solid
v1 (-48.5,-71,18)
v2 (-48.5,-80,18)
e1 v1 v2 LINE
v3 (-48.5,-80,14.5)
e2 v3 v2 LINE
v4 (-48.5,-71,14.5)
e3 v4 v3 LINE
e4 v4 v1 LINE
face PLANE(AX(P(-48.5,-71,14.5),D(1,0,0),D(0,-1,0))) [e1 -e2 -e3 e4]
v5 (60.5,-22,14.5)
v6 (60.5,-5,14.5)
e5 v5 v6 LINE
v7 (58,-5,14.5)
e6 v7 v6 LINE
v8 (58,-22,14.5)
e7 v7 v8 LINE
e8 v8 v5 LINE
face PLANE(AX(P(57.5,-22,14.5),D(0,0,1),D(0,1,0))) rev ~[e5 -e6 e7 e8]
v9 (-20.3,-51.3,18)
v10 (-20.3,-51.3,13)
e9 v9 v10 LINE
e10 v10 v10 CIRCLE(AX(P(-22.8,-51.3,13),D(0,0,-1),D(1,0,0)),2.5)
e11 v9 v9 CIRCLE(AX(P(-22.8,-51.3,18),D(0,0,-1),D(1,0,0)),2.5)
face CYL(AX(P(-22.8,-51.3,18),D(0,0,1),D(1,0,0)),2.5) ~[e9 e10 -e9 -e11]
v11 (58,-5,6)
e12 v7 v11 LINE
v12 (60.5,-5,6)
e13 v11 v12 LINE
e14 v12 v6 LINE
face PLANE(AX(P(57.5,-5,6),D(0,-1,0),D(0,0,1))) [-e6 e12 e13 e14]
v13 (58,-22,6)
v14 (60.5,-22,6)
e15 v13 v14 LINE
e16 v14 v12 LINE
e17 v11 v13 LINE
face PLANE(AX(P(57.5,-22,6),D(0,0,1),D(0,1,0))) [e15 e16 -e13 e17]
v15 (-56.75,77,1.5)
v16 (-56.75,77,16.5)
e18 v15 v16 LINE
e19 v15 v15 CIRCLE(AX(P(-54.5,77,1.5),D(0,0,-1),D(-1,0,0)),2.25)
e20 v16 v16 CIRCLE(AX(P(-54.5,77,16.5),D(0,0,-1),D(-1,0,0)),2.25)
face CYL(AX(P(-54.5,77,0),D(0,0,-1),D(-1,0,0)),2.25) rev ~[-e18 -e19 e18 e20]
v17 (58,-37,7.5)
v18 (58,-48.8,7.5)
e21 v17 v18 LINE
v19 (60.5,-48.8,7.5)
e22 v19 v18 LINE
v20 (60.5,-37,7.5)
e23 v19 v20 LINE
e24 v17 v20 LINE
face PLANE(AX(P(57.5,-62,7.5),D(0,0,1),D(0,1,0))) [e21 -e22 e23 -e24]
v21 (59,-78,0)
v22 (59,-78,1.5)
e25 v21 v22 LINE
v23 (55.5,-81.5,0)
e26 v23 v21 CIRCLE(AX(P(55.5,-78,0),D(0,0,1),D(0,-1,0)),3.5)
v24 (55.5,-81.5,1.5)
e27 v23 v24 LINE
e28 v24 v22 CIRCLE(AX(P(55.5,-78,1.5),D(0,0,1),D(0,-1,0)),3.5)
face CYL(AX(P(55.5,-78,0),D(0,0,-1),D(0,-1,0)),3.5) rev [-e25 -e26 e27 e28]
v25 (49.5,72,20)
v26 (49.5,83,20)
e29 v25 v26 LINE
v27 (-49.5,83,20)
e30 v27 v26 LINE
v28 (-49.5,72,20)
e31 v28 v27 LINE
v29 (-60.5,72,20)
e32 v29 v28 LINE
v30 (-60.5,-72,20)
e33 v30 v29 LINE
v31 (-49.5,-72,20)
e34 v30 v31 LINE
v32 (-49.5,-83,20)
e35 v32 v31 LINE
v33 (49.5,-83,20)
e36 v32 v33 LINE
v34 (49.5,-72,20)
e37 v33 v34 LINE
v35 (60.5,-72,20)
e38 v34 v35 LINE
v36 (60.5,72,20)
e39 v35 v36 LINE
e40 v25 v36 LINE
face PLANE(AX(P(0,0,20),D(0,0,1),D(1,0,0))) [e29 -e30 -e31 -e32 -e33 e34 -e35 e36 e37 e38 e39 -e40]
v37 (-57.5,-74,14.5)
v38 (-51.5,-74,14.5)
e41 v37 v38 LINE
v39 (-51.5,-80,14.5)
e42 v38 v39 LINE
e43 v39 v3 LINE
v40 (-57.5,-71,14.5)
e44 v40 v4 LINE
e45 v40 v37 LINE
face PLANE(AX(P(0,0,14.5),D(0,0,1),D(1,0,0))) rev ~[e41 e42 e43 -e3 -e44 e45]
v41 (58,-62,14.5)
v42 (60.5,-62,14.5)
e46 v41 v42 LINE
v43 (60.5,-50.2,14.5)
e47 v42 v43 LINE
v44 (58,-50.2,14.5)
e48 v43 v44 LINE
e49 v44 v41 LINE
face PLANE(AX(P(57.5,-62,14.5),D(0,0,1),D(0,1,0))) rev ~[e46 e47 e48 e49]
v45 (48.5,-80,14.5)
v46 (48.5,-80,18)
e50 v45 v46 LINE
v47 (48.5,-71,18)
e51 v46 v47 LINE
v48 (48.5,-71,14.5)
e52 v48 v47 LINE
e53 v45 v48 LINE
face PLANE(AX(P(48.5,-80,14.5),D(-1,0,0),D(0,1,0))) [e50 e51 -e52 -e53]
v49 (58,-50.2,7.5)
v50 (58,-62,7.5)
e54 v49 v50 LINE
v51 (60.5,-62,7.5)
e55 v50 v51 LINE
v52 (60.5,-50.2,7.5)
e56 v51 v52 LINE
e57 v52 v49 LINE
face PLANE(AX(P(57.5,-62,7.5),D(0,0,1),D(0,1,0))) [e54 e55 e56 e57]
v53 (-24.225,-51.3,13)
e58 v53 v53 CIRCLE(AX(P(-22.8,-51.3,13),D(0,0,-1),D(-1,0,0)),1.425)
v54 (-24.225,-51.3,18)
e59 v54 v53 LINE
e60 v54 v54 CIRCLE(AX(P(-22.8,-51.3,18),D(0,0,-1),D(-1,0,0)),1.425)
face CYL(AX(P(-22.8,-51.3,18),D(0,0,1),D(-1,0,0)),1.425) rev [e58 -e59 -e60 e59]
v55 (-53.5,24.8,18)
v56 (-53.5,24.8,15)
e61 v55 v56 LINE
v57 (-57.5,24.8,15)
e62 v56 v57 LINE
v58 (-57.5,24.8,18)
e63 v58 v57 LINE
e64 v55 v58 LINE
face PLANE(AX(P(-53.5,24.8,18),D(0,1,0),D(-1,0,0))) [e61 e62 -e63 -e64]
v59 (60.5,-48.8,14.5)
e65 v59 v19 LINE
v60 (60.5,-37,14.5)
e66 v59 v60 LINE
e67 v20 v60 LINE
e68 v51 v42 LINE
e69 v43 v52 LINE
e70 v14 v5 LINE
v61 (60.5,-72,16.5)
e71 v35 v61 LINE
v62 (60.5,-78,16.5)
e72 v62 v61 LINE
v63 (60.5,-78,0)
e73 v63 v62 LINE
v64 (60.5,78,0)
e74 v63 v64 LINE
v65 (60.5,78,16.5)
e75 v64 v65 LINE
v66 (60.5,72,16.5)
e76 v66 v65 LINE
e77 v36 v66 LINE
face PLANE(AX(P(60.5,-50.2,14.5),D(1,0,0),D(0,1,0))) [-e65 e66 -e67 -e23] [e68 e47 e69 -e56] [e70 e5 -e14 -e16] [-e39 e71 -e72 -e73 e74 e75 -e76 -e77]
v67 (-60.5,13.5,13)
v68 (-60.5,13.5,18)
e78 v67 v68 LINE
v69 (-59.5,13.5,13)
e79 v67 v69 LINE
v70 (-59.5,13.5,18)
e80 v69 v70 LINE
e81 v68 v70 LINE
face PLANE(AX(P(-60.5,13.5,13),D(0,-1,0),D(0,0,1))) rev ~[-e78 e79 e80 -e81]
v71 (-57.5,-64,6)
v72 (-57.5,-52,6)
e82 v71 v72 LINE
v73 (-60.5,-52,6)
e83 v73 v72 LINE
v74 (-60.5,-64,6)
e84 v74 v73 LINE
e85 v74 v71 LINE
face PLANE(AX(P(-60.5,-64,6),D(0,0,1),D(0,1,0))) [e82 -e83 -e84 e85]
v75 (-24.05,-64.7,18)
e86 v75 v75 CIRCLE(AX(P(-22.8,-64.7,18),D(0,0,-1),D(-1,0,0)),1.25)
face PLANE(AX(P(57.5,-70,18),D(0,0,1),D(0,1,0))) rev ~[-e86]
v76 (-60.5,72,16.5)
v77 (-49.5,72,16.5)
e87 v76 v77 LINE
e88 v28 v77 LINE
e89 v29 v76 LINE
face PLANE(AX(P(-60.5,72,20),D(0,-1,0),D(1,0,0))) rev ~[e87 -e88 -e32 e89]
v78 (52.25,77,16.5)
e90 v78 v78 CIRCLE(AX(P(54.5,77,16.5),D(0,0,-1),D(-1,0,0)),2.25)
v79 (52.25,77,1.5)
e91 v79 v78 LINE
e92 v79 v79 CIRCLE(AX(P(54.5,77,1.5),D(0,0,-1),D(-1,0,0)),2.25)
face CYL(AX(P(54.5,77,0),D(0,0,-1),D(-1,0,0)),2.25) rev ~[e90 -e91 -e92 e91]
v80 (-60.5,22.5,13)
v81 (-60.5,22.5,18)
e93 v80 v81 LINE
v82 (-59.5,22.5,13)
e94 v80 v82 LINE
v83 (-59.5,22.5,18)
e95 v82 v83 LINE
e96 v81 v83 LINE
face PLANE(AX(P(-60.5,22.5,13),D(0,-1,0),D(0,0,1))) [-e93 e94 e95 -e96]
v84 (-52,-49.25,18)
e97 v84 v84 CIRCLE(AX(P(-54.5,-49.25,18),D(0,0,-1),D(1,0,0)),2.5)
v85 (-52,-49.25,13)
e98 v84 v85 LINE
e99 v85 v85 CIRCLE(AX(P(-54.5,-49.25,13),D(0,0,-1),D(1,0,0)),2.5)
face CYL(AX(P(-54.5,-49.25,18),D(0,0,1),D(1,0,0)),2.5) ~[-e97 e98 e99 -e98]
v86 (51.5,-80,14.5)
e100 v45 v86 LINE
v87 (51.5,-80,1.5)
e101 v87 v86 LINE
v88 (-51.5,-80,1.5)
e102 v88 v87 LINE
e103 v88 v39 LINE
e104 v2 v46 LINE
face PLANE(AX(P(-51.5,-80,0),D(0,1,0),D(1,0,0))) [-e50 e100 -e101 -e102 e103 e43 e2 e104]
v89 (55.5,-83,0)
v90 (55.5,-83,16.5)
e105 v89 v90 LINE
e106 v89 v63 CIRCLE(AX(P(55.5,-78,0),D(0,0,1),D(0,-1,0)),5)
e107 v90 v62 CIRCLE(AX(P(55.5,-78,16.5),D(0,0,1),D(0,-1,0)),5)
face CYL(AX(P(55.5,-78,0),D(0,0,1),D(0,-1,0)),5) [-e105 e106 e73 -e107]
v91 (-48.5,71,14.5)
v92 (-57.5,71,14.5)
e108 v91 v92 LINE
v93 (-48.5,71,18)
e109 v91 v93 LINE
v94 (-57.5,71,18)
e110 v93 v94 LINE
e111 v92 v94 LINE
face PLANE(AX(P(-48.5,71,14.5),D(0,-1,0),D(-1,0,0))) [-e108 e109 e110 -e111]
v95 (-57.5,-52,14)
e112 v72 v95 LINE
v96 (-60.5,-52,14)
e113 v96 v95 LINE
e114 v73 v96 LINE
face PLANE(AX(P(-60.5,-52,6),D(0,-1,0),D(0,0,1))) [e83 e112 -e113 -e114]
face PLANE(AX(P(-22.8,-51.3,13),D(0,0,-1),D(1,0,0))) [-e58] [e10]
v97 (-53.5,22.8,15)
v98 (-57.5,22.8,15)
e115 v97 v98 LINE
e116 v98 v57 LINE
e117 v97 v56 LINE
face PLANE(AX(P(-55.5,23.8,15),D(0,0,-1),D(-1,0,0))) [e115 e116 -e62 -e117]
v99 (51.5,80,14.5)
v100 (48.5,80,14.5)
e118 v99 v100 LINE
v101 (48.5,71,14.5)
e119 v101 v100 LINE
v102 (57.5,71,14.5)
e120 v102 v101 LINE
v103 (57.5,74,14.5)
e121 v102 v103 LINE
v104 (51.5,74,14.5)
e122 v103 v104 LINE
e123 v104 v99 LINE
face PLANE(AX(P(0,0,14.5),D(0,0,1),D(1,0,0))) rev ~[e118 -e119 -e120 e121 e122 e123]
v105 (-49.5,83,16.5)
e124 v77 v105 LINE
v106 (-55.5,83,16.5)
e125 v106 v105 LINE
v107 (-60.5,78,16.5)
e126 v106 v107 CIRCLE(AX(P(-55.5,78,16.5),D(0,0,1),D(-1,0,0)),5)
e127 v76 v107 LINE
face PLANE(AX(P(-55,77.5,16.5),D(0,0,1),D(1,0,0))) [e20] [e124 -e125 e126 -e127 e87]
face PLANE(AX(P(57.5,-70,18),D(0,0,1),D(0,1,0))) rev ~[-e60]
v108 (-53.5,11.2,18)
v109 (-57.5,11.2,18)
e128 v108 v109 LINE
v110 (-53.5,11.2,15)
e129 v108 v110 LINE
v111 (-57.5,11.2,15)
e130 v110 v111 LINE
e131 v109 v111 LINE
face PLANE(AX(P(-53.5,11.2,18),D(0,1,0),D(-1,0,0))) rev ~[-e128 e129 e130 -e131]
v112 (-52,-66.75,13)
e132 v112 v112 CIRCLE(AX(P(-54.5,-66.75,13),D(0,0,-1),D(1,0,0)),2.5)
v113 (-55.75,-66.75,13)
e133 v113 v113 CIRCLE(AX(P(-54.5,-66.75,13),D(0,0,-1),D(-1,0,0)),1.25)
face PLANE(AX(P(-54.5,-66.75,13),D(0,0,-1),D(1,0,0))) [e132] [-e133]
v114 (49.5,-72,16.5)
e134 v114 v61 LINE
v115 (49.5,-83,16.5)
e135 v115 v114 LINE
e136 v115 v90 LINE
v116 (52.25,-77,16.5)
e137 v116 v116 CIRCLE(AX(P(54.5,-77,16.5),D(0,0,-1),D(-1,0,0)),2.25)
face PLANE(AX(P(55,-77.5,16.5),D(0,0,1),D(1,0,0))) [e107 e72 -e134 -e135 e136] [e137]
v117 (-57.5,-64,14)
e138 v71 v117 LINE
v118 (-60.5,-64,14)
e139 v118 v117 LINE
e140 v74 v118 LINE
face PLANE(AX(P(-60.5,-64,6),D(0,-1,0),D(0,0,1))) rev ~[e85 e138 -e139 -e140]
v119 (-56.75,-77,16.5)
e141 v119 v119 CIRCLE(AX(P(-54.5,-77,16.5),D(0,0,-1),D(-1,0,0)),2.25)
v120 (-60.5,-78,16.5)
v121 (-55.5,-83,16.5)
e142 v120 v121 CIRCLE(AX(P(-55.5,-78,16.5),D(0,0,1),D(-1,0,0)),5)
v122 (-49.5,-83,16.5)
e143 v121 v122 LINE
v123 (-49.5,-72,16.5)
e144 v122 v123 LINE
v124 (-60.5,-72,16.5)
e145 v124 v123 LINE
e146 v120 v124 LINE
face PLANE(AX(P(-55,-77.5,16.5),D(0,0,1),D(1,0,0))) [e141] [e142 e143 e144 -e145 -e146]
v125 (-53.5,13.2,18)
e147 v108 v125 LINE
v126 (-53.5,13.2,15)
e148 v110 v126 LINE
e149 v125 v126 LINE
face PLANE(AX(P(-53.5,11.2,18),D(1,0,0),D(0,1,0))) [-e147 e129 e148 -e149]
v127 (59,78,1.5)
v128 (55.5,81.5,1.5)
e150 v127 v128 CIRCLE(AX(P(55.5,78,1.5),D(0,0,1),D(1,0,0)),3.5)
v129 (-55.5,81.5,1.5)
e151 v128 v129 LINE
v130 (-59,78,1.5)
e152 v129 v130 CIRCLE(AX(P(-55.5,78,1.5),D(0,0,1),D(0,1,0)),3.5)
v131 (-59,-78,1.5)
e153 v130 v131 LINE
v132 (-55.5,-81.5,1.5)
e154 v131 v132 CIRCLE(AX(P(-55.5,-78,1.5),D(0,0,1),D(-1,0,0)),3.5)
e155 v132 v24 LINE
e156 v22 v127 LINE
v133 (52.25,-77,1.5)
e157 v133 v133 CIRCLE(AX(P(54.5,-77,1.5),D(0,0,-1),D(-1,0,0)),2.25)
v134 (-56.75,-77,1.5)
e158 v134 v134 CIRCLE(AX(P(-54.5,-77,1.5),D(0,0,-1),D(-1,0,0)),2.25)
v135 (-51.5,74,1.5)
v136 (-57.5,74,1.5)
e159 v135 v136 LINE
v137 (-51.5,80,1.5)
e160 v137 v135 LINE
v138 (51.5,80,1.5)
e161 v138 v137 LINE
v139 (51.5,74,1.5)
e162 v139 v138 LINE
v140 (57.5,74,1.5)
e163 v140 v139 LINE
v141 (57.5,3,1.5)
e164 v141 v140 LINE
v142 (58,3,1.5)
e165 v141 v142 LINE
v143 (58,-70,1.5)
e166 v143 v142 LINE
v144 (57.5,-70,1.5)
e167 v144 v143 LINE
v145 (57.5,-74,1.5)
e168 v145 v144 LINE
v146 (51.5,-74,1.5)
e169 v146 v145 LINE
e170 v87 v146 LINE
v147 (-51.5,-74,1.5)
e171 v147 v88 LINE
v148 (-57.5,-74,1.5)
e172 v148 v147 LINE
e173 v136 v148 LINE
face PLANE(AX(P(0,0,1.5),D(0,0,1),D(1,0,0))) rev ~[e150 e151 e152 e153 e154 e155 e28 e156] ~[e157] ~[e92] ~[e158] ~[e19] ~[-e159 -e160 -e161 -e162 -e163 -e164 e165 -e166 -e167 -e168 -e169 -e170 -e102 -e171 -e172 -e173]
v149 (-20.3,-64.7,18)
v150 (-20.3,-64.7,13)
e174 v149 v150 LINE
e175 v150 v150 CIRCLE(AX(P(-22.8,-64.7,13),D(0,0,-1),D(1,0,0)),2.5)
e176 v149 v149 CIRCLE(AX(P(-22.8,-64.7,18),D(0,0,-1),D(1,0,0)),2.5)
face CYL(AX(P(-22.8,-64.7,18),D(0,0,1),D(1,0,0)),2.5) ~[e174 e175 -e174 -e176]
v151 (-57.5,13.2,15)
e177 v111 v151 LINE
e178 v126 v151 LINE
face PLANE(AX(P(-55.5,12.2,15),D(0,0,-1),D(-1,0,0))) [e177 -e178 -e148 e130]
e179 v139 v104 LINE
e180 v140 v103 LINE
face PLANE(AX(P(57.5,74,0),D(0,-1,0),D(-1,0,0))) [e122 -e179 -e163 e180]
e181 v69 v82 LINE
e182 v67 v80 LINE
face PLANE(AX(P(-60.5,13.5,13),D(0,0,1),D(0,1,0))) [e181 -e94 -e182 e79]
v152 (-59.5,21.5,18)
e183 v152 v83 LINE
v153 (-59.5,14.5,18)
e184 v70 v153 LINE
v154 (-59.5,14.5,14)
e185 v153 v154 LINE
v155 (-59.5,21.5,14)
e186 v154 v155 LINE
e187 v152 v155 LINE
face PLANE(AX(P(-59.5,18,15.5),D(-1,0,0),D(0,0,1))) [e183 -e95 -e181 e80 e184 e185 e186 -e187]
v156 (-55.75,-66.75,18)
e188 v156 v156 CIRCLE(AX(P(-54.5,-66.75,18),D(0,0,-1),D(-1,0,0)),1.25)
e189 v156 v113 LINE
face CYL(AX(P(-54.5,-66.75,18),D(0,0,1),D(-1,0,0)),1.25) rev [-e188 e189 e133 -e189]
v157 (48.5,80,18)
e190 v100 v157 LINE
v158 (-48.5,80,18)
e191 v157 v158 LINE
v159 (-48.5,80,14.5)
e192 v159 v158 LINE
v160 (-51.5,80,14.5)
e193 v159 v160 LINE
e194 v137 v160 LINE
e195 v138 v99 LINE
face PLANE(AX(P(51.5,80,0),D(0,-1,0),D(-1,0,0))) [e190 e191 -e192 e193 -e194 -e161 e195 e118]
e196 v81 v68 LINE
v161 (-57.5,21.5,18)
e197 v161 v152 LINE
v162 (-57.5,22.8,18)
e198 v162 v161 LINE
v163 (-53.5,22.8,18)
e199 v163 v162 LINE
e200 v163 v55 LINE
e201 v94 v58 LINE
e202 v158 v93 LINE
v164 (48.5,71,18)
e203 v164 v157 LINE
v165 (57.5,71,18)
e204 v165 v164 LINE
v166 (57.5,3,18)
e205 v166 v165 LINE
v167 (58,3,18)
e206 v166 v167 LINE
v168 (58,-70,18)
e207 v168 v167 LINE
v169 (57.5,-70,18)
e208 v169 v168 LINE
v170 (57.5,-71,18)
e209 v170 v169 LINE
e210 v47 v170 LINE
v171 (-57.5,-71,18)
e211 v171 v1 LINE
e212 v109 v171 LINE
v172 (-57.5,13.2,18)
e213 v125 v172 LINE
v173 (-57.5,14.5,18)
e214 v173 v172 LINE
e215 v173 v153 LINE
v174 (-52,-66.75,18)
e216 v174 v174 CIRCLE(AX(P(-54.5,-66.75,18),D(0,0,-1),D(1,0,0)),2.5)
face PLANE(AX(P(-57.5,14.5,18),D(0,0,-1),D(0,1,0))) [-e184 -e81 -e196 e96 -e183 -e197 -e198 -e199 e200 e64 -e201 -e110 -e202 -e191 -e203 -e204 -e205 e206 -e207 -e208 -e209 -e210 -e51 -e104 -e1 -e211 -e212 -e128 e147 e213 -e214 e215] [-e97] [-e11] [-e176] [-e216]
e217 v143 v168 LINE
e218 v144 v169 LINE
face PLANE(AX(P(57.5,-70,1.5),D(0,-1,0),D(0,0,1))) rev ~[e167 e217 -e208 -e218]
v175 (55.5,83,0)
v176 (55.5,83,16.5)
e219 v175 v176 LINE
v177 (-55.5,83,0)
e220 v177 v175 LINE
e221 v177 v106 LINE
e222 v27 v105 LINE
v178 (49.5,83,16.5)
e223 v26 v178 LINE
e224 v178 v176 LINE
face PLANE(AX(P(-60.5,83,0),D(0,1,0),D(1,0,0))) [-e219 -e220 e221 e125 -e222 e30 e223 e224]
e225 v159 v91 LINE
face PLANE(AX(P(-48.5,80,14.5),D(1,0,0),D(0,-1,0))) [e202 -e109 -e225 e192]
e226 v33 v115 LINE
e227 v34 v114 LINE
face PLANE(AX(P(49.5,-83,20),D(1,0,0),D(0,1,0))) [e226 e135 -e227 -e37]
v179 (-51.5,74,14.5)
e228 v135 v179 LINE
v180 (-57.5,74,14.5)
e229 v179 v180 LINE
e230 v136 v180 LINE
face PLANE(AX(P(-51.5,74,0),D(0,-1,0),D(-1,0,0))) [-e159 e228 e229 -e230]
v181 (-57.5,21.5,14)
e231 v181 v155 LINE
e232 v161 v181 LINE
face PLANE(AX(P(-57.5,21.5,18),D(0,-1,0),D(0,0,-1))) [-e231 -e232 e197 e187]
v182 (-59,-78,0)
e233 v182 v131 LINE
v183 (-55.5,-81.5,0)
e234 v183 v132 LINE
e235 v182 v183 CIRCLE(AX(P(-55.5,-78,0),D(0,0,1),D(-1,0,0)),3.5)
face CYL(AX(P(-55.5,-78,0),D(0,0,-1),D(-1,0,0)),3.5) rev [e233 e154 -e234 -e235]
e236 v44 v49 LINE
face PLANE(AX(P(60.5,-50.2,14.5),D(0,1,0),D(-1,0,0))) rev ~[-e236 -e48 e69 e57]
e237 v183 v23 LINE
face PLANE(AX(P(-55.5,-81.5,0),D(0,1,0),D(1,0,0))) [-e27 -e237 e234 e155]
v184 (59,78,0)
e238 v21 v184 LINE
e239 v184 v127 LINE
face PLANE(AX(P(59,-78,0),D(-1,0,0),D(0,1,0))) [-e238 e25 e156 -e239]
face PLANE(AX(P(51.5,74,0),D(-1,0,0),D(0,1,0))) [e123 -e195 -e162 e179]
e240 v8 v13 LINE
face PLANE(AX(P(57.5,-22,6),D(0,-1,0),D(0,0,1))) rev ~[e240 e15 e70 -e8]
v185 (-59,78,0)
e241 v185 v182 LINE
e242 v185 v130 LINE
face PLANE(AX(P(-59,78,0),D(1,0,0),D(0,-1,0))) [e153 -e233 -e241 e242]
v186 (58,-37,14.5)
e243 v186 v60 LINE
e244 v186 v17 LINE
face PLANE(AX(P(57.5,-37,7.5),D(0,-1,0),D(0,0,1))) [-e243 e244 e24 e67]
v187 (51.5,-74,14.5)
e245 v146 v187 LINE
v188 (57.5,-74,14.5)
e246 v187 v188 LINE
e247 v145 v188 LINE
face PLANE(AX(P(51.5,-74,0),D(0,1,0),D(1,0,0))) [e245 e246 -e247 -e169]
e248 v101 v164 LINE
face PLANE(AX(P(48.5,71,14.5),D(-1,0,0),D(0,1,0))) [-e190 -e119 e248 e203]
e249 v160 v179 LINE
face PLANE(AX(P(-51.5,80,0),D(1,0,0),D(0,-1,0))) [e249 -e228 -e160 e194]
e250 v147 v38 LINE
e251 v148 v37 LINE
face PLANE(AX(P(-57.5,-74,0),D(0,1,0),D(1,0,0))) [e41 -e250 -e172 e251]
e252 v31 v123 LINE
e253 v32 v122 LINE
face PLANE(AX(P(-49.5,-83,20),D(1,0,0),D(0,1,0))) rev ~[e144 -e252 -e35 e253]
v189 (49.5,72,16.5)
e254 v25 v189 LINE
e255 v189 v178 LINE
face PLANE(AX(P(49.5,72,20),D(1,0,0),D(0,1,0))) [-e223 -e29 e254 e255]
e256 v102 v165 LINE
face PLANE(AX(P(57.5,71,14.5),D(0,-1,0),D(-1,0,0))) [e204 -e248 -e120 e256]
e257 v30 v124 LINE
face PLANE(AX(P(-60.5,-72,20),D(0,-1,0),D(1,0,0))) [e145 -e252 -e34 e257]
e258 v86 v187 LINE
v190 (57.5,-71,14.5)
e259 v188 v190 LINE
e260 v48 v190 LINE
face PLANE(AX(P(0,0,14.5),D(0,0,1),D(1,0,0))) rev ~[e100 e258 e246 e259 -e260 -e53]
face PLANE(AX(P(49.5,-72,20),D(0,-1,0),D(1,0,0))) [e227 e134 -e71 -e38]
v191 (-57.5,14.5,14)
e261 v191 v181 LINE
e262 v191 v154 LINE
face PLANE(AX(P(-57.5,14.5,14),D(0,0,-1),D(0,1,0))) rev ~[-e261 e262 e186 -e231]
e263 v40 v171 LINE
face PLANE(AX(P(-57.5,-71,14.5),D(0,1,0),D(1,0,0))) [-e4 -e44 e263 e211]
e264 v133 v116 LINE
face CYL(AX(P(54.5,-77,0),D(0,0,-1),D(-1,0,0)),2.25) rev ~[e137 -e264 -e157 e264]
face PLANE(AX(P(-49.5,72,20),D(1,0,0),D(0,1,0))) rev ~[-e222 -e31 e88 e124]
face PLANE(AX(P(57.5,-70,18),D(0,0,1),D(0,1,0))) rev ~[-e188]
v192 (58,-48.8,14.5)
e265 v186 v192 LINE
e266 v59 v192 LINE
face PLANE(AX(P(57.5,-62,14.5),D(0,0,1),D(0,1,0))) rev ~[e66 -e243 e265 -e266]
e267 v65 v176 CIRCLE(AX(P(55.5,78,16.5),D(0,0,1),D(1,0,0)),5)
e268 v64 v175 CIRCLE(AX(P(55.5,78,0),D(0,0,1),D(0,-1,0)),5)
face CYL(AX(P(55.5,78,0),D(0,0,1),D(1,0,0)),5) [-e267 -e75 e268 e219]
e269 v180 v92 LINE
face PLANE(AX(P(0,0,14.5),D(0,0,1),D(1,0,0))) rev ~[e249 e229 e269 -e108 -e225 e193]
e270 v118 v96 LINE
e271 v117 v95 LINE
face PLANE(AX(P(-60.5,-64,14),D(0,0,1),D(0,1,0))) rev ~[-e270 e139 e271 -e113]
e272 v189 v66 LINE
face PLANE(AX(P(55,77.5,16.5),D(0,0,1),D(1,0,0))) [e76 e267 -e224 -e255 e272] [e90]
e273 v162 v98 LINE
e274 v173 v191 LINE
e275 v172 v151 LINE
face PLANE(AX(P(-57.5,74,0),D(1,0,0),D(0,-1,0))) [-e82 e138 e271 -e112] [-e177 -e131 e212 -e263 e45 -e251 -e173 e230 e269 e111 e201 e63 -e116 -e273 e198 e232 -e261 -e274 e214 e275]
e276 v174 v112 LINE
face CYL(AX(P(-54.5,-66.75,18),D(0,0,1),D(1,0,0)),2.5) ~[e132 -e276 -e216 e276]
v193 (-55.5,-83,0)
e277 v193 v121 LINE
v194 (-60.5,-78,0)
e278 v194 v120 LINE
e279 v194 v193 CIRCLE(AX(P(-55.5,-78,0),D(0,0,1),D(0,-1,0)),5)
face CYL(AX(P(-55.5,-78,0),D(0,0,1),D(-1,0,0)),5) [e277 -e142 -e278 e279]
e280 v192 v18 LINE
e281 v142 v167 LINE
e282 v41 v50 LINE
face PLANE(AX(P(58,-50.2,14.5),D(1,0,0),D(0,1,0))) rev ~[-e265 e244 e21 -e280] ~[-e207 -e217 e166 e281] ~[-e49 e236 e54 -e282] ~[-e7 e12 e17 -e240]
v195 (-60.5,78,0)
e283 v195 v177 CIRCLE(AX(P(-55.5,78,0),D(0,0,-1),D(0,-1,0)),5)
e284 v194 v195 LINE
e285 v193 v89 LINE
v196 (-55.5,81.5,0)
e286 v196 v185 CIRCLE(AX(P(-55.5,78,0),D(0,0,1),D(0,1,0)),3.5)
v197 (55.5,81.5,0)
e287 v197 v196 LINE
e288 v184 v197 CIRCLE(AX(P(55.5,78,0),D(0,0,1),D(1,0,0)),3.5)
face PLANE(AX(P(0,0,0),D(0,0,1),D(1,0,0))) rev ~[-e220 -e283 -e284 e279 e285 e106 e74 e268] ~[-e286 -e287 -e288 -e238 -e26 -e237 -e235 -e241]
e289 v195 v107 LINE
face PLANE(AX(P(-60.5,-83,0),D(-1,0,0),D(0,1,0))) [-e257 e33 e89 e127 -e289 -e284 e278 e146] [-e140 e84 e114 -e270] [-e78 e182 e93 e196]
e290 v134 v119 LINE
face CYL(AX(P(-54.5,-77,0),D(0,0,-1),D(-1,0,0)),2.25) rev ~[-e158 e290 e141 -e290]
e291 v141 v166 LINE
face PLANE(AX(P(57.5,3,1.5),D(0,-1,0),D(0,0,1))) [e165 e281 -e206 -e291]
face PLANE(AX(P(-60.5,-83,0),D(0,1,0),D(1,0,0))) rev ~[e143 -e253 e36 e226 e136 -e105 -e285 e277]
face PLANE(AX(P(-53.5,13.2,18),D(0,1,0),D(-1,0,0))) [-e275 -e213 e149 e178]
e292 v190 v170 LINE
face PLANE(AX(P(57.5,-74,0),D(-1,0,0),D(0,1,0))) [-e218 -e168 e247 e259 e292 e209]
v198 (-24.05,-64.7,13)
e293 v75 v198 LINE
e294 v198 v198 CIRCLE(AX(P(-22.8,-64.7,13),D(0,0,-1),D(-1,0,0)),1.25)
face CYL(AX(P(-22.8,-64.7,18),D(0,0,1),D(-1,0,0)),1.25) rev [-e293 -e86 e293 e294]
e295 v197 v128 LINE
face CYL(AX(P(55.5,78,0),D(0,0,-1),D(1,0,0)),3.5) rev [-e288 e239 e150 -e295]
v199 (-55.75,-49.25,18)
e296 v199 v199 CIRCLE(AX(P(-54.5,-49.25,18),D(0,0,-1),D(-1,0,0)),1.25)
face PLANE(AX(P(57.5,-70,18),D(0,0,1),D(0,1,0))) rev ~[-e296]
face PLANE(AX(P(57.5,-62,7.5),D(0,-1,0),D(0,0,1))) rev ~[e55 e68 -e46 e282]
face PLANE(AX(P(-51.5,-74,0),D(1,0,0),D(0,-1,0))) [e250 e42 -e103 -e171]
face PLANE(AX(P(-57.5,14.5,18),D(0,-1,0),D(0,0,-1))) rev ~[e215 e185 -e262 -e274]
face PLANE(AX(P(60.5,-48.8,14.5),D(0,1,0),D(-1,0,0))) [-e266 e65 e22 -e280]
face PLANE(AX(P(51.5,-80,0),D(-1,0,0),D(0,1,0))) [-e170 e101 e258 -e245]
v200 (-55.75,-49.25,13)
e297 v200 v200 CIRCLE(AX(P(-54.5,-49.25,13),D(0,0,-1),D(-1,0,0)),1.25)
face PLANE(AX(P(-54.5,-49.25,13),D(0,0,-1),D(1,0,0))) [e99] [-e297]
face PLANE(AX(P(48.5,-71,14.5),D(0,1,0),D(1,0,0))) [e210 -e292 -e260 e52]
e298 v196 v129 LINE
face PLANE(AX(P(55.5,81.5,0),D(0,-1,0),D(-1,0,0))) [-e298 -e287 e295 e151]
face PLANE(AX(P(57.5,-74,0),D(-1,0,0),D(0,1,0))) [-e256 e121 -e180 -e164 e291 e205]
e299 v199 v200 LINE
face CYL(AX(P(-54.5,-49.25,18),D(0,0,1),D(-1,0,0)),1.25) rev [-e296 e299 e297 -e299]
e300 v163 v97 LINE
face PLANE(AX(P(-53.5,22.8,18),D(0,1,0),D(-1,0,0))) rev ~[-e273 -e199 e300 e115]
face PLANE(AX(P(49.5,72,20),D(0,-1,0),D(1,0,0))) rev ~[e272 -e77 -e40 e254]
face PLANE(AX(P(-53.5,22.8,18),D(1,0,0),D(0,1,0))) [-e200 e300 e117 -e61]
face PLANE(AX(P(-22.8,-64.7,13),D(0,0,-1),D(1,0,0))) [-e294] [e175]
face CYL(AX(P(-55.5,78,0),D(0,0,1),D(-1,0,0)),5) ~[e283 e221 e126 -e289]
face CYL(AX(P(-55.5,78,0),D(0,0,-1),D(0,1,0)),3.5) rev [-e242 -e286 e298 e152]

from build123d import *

# Parameters (mm, degrees)
SCHIZZO1_W                   = 121
SCHIZZO1_H                   = 166
ESTRUSIONE_ESTRUSIONE1_DEPTH = 20
RACCORDO1_R                  = 5
TAGLIO_ESTRUSIONE1_DEPTH     = 14.5
SCHIZZO3_R                   = 2.25
TAGLIO_ESTRUSIONE2_DEPTH     = 105.638663982
TAGLIO_ESTRUSIONE3_DEPTH     = 1.5
SCHIZZO5_W                   = 11
SCHIZZO5_H                   = 11
TAGLIO_ESTRUSIONE4_DEPTH     = 3.5
TAGLIO_ESTRUSIONE5_DEPTH     = 3.5
SCHIZZO11_W                  = 8.5
SCHIZZO11_H                  = 17
SCHIZZO11_W_2                = 7
SCHIZZO11_H_2                = 25
TAGLIO_ESTRUSIONE9_DEPTH     = 10
SCHIZZO12_W                  = 16.5
SCHIZZO12_H                  = 73
TAGLIO_ESTRUSIONE10_DEPTH    = 0.5
SCHIZZO13_R                  = 2.5
SCHIZZO13_R_2                = 1.25
SCHIZZO13_R_3                = 1.425
ESTRUSIONE_ESTRUSIONE3_DEPTH = 5
SCHIZZO14_W                  = 8
SCHIZZO14_H                  = 12
TAGLIO_ESTRUSIONE11_DEPTH    = 3
SCHIZZO15_W                  = 4
SCHIZZO15_H                  = 7
TAGLIO_ESTRUSIONE12_DEPTH    = 3
SCHIZZO16_W                  = 4
SCHIZZO16_H                  = 2
ESTRUSIONE_ESTRUSIONE4_DEPTH = 3
SCHIZZO17_W                  = 5
SCHIZZO17_H                  = 9
TAGLIO_ESTRUSIONE13_DEPTH    = 1
SCHIZZO18_W                  = 2.5
SCHIZZO18_H                  = 1.4
ESTRUSIONE_ESTRUSIONE5_DEPTH = 10


with BuildPart() as part:
    # Schizzo1 → Estrusione-Estrusione1 (new body)
    with BuildSketch(Plane.XY):
        Rectangle(SCHIZZO1_W, SCHIZZO1_H)
    extrude(amount=ESTRUSIONE_ESTRUSIONE1_DEPTH)

    # Raccordo1
    raccordo1_edges = [part.edges().sort_by_distance(p)[0] for p in [
        (-60.5, 83, 10),
        (60.5, 83, 10),
        (60.5, -83, 10),
        (-60.5, -83, 10),
    ]]
    fillet(raccordo1_edges, radius=RACCORDO1_R)

    # Schizzo2 → Taglio-Estrusione1 (cut)
    with BuildSketch(Plane(origin=(0, 0, 0), x_dir=(-1, 0, 0), z_dir=(0, 0, -1))):
        Polygon((-51.5, 80), (51.5, 80), (51.5, 74), (57.5, 74), (57.5, -74), (51.5, -74), (51.5, -80), (-51.5, -80), (-51.5, -74), (-57.5, -74), (-57.5, 74), (-51.5, 74), align=None)
    extrude(amount=-TAGLIO_ESTRUSIONE1_DEPTH, mode=Mode.SUBTRACT)

    # Schizzo3 → Taglio-Estrusione2 (cut, through all)
    with BuildSketch(Plane(origin=(0, 0, 0), x_dir=(-1, 0, 0), z_dir=(0, 0, -1))):
        with Locations((-54.5, 77)):
            Circle(SCHIZZO3_R)
        with Locations((54.5, 77)):
            Circle(SCHIZZO3_R)
        with Locations((54.5, -77)):
            Circle(SCHIZZO3_R)
        with Locations((-54.5, -77)):
            Circle(SCHIZZO3_R)
    extrude(amount=-TAGLIO_ESTRUSIONE2_DEPTH, mode=Mode.SUBTRACT)

    # Schizzo4 → Taglio-Estrusione3 (cut)
    with BuildSketch(Plane(origin=(0, 0, 0), x_dir=(-1, 0, 0), z_dir=(0, 0, -1))):
        with BuildLine():
            Line((-55.5, 81.5), (55.5, 81.5))
            ThreePointArc((55.5, 81.5), (57.974873734, 80.474873734), (59, 78))
            Line((59, 78), (59, -78))
            ThreePointArc((59, -78), (57.974873734, -80.474873734), (55.5, -81.5))
            Line((55.5, -81.5), (-55.5, -81.5))
            ThreePointArc((-55.5, -81.5), (-57.974873734, -80.474873734), (-59, -78))
            Line((-59, -78), (-59, 78))
            ThreePointArc((-59, 78), (-57.974873734, 80.474873734), (-55.5, 81.5))
        make_face()
    extrude(amount=-TAGLIO_ESTRUSIONE3_DEPTH, mode=Mode.SUBTRACT)

    # Schizzo5 → Taglio-Estrusione4 (cut)
    with BuildSketch(Plane.XY.offset(20)):
        with Locations((-55, 77.5)):
            Rectangle(SCHIZZO5_W, SCHIZZO5_H)
        with Locations((55, 77.5)):
            Rectangle(SCHIZZO5_W, SCHIZZO5_H)
        with Locations((55, -77.5)):
            Rectangle(SCHIZZO5_W, SCHIZZO5_H)
        with Locations((-55, -77.5)):
            Rectangle(SCHIZZO5_W, SCHIZZO5_H)
    extrude(amount=-TAGLIO_ESTRUSIONE4_DEPTH, mode=Mode.SUBTRACT)

    # Schizzo6 → Taglio-Estrusione5 (cut)
    with BuildSketch(Plane(origin=(0, 0, 14.5), x_dir=(-1, 0, 0), z_dir=(0, 0, -1))):
        Polygon((-57.5, 71), (-48.5, 71), (-48.5, 80), (48.5, 80), (48.5, 71), (57.5, 71), (57.5, -71), (48.5, -71), (48.5, -80), (-48.5, -80), (-48.5, -71), (-57.5, -71), align=None)
    extrude(amount=-TAGLIO_ESTRUSIONE5_DEPTH, mode=Mode.SUBTRACT)

    # Schizzo11 → Taglio-Estrusione9 (cut)
    with BuildSketch(Plane.ZY.offset(-57.5)):
        with Locations((10.25, -13.5)):
            Rectangle(SCHIZZO11_W, SCHIZZO11_H)
        with Locations((11, -49.5)):
            Rectangle(SCHIZZO11_W_2, SCHIZZO11_H_2)
    extrude(amount=-TAGLIO_ESTRUSIONE9_DEPTH, mode=Mode.SUBTRACT)

    # Schizzo12 → Taglio-Estrusione10 (cut)
    with BuildSketch(Plane.ZY.offset(-57.5)):
        with Locations((9.75, -33.5)):
            Rectangle(SCHIZZO12_W, SCHIZZO12_H)
    extrude(amount=-TAGLIO_ESTRUSIONE10_DEPTH, mode=Mode.SUBTRACT)

    # Schizzo13 → Estrusione-Estrusione3 (add)
    # profile 1 of 4: a face of its own
    with BuildSketch(Plane(origin=(0, 0, 18), x_dir=(-1, 0, 0), z_dir=(0, 0, -1))):
        with Locations(Location((54.5, -49.25, 0), (0, 0, 180))):
            Circle(SCHIZZO13_R)
        with Locations((54.5, -49.25)):
            Circle(SCHIZZO13_R_2, mode=Mode.SUBTRACT)
    # profile 2 of 4: a face of its own
    with BuildSketch(Plane(origin=(0, 0, 18), x_dir=(-1, 0, 0), z_dir=(0, 0, -1))):
        with Locations(Location((54.5, -66.75, 0), (0, 0, 180))):
            Circle(SCHIZZO13_R)
        with Locations((54.5, -66.75)):
            Circle(SCHIZZO13_R_2, mode=Mode.SUBTRACT)
    # profile 3 of 4: a face of its own
    with BuildSketch(Plane(origin=(0, 0, 18), x_dir=(-1, 0, 0), z_dir=(0, 0, -1))):
        with Locations(Location((22.8, -64.7, 0), (0, 0, 180))):
            Circle(SCHIZZO13_R)
        with Locations((22.8, -64.7)):
            Circle(SCHIZZO13_R_2, mode=Mode.SUBTRACT)
    # profile 4 of 4: a face of its own
    with BuildSketch(Plane(origin=(0, 0, 18), x_dir=(-1, 0, 0), z_dir=(0, 0, -1))):
        with Locations(Location((22.8, -51.3, 0), (0, 0, 180))):
            Circle(SCHIZZO13_R)
        with Locations((22.8, -51.3)):
            Circle(SCHIZZO13_R_3, mode=Mode.SUBTRACT)
    extrude(amount=ESTRUSIONE_ESTRUSIONE3_DEPTH)

    # Schizzo14 → Taglio-Estrusione11 (cut)
    with BuildSketch(Plane.ZY.offset(60.5)):
        with Locations((10, -58)):
            Rectangle(SCHIZZO14_W, SCHIZZO14_H)
    extrude(amount=-TAGLIO_ESTRUSIONE11_DEPTH, mode=Mode.SUBTRACT)

    # Schizzo15 → Taglio-Estrusione12 (cut)
    with BuildSketch(Plane(origin=(-57.5, 0, 0), x_dir=(0, 0, -1), z_dir=(1, 0, 0))):
        with Locations((-16, 18)):
            Rectangle(SCHIZZO15_W, SCHIZZO15_H)
    extrude(amount=-TAGLIO_ESTRUSIONE12_DEPTH, mode=Mode.SUBTRACT)

    # Schizzo16 → Estrusione-Estrusione4 (add)
    with BuildSketch(Plane(origin=(0, 0, 18), x_dir=(-1, 0, 0), z_dir=(0, 0, -1))):
        with Locations((55.5, 23.8)):
            Rectangle(SCHIZZO16_W, SCHIZZO16_H)
        with Locations((55.5, 12.2)):
            Rectangle(SCHIZZO16_W, SCHIZZO16_H)
    extrude(amount=ESTRUSIONE_ESTRUSIONE4_DEPTH)

    # Schizzo17 → Taglio-Estrusione13 (cut)
    with BuildSketch(Plane.ZY.offset(60.5)):
        with Locations((15.5, 18)):
            Rectangle(SCHIZZO17_W, SCHIZZO17_H)
    extrude(amount=-TAGLIO_ESTRUSIONE13_DEPTH, mode=Mode.SUBTRACT)

    # Schizzo18 → Estrusione-Estrusione5 (add)
    with BuildSketch(Plane(origin=(0, 0, 14.5), x_dir=(-1, 0, 0), z_dir=(0, 0, -1))):
        with Locations((-59.25, -49.5)):
            Rectangle(SCHIZZO18_W, SCHIZZO18_H)
    extrude(amount=ESTRUSIONE_ESTRUSIONE5_DEPTH)


solid = part.part
